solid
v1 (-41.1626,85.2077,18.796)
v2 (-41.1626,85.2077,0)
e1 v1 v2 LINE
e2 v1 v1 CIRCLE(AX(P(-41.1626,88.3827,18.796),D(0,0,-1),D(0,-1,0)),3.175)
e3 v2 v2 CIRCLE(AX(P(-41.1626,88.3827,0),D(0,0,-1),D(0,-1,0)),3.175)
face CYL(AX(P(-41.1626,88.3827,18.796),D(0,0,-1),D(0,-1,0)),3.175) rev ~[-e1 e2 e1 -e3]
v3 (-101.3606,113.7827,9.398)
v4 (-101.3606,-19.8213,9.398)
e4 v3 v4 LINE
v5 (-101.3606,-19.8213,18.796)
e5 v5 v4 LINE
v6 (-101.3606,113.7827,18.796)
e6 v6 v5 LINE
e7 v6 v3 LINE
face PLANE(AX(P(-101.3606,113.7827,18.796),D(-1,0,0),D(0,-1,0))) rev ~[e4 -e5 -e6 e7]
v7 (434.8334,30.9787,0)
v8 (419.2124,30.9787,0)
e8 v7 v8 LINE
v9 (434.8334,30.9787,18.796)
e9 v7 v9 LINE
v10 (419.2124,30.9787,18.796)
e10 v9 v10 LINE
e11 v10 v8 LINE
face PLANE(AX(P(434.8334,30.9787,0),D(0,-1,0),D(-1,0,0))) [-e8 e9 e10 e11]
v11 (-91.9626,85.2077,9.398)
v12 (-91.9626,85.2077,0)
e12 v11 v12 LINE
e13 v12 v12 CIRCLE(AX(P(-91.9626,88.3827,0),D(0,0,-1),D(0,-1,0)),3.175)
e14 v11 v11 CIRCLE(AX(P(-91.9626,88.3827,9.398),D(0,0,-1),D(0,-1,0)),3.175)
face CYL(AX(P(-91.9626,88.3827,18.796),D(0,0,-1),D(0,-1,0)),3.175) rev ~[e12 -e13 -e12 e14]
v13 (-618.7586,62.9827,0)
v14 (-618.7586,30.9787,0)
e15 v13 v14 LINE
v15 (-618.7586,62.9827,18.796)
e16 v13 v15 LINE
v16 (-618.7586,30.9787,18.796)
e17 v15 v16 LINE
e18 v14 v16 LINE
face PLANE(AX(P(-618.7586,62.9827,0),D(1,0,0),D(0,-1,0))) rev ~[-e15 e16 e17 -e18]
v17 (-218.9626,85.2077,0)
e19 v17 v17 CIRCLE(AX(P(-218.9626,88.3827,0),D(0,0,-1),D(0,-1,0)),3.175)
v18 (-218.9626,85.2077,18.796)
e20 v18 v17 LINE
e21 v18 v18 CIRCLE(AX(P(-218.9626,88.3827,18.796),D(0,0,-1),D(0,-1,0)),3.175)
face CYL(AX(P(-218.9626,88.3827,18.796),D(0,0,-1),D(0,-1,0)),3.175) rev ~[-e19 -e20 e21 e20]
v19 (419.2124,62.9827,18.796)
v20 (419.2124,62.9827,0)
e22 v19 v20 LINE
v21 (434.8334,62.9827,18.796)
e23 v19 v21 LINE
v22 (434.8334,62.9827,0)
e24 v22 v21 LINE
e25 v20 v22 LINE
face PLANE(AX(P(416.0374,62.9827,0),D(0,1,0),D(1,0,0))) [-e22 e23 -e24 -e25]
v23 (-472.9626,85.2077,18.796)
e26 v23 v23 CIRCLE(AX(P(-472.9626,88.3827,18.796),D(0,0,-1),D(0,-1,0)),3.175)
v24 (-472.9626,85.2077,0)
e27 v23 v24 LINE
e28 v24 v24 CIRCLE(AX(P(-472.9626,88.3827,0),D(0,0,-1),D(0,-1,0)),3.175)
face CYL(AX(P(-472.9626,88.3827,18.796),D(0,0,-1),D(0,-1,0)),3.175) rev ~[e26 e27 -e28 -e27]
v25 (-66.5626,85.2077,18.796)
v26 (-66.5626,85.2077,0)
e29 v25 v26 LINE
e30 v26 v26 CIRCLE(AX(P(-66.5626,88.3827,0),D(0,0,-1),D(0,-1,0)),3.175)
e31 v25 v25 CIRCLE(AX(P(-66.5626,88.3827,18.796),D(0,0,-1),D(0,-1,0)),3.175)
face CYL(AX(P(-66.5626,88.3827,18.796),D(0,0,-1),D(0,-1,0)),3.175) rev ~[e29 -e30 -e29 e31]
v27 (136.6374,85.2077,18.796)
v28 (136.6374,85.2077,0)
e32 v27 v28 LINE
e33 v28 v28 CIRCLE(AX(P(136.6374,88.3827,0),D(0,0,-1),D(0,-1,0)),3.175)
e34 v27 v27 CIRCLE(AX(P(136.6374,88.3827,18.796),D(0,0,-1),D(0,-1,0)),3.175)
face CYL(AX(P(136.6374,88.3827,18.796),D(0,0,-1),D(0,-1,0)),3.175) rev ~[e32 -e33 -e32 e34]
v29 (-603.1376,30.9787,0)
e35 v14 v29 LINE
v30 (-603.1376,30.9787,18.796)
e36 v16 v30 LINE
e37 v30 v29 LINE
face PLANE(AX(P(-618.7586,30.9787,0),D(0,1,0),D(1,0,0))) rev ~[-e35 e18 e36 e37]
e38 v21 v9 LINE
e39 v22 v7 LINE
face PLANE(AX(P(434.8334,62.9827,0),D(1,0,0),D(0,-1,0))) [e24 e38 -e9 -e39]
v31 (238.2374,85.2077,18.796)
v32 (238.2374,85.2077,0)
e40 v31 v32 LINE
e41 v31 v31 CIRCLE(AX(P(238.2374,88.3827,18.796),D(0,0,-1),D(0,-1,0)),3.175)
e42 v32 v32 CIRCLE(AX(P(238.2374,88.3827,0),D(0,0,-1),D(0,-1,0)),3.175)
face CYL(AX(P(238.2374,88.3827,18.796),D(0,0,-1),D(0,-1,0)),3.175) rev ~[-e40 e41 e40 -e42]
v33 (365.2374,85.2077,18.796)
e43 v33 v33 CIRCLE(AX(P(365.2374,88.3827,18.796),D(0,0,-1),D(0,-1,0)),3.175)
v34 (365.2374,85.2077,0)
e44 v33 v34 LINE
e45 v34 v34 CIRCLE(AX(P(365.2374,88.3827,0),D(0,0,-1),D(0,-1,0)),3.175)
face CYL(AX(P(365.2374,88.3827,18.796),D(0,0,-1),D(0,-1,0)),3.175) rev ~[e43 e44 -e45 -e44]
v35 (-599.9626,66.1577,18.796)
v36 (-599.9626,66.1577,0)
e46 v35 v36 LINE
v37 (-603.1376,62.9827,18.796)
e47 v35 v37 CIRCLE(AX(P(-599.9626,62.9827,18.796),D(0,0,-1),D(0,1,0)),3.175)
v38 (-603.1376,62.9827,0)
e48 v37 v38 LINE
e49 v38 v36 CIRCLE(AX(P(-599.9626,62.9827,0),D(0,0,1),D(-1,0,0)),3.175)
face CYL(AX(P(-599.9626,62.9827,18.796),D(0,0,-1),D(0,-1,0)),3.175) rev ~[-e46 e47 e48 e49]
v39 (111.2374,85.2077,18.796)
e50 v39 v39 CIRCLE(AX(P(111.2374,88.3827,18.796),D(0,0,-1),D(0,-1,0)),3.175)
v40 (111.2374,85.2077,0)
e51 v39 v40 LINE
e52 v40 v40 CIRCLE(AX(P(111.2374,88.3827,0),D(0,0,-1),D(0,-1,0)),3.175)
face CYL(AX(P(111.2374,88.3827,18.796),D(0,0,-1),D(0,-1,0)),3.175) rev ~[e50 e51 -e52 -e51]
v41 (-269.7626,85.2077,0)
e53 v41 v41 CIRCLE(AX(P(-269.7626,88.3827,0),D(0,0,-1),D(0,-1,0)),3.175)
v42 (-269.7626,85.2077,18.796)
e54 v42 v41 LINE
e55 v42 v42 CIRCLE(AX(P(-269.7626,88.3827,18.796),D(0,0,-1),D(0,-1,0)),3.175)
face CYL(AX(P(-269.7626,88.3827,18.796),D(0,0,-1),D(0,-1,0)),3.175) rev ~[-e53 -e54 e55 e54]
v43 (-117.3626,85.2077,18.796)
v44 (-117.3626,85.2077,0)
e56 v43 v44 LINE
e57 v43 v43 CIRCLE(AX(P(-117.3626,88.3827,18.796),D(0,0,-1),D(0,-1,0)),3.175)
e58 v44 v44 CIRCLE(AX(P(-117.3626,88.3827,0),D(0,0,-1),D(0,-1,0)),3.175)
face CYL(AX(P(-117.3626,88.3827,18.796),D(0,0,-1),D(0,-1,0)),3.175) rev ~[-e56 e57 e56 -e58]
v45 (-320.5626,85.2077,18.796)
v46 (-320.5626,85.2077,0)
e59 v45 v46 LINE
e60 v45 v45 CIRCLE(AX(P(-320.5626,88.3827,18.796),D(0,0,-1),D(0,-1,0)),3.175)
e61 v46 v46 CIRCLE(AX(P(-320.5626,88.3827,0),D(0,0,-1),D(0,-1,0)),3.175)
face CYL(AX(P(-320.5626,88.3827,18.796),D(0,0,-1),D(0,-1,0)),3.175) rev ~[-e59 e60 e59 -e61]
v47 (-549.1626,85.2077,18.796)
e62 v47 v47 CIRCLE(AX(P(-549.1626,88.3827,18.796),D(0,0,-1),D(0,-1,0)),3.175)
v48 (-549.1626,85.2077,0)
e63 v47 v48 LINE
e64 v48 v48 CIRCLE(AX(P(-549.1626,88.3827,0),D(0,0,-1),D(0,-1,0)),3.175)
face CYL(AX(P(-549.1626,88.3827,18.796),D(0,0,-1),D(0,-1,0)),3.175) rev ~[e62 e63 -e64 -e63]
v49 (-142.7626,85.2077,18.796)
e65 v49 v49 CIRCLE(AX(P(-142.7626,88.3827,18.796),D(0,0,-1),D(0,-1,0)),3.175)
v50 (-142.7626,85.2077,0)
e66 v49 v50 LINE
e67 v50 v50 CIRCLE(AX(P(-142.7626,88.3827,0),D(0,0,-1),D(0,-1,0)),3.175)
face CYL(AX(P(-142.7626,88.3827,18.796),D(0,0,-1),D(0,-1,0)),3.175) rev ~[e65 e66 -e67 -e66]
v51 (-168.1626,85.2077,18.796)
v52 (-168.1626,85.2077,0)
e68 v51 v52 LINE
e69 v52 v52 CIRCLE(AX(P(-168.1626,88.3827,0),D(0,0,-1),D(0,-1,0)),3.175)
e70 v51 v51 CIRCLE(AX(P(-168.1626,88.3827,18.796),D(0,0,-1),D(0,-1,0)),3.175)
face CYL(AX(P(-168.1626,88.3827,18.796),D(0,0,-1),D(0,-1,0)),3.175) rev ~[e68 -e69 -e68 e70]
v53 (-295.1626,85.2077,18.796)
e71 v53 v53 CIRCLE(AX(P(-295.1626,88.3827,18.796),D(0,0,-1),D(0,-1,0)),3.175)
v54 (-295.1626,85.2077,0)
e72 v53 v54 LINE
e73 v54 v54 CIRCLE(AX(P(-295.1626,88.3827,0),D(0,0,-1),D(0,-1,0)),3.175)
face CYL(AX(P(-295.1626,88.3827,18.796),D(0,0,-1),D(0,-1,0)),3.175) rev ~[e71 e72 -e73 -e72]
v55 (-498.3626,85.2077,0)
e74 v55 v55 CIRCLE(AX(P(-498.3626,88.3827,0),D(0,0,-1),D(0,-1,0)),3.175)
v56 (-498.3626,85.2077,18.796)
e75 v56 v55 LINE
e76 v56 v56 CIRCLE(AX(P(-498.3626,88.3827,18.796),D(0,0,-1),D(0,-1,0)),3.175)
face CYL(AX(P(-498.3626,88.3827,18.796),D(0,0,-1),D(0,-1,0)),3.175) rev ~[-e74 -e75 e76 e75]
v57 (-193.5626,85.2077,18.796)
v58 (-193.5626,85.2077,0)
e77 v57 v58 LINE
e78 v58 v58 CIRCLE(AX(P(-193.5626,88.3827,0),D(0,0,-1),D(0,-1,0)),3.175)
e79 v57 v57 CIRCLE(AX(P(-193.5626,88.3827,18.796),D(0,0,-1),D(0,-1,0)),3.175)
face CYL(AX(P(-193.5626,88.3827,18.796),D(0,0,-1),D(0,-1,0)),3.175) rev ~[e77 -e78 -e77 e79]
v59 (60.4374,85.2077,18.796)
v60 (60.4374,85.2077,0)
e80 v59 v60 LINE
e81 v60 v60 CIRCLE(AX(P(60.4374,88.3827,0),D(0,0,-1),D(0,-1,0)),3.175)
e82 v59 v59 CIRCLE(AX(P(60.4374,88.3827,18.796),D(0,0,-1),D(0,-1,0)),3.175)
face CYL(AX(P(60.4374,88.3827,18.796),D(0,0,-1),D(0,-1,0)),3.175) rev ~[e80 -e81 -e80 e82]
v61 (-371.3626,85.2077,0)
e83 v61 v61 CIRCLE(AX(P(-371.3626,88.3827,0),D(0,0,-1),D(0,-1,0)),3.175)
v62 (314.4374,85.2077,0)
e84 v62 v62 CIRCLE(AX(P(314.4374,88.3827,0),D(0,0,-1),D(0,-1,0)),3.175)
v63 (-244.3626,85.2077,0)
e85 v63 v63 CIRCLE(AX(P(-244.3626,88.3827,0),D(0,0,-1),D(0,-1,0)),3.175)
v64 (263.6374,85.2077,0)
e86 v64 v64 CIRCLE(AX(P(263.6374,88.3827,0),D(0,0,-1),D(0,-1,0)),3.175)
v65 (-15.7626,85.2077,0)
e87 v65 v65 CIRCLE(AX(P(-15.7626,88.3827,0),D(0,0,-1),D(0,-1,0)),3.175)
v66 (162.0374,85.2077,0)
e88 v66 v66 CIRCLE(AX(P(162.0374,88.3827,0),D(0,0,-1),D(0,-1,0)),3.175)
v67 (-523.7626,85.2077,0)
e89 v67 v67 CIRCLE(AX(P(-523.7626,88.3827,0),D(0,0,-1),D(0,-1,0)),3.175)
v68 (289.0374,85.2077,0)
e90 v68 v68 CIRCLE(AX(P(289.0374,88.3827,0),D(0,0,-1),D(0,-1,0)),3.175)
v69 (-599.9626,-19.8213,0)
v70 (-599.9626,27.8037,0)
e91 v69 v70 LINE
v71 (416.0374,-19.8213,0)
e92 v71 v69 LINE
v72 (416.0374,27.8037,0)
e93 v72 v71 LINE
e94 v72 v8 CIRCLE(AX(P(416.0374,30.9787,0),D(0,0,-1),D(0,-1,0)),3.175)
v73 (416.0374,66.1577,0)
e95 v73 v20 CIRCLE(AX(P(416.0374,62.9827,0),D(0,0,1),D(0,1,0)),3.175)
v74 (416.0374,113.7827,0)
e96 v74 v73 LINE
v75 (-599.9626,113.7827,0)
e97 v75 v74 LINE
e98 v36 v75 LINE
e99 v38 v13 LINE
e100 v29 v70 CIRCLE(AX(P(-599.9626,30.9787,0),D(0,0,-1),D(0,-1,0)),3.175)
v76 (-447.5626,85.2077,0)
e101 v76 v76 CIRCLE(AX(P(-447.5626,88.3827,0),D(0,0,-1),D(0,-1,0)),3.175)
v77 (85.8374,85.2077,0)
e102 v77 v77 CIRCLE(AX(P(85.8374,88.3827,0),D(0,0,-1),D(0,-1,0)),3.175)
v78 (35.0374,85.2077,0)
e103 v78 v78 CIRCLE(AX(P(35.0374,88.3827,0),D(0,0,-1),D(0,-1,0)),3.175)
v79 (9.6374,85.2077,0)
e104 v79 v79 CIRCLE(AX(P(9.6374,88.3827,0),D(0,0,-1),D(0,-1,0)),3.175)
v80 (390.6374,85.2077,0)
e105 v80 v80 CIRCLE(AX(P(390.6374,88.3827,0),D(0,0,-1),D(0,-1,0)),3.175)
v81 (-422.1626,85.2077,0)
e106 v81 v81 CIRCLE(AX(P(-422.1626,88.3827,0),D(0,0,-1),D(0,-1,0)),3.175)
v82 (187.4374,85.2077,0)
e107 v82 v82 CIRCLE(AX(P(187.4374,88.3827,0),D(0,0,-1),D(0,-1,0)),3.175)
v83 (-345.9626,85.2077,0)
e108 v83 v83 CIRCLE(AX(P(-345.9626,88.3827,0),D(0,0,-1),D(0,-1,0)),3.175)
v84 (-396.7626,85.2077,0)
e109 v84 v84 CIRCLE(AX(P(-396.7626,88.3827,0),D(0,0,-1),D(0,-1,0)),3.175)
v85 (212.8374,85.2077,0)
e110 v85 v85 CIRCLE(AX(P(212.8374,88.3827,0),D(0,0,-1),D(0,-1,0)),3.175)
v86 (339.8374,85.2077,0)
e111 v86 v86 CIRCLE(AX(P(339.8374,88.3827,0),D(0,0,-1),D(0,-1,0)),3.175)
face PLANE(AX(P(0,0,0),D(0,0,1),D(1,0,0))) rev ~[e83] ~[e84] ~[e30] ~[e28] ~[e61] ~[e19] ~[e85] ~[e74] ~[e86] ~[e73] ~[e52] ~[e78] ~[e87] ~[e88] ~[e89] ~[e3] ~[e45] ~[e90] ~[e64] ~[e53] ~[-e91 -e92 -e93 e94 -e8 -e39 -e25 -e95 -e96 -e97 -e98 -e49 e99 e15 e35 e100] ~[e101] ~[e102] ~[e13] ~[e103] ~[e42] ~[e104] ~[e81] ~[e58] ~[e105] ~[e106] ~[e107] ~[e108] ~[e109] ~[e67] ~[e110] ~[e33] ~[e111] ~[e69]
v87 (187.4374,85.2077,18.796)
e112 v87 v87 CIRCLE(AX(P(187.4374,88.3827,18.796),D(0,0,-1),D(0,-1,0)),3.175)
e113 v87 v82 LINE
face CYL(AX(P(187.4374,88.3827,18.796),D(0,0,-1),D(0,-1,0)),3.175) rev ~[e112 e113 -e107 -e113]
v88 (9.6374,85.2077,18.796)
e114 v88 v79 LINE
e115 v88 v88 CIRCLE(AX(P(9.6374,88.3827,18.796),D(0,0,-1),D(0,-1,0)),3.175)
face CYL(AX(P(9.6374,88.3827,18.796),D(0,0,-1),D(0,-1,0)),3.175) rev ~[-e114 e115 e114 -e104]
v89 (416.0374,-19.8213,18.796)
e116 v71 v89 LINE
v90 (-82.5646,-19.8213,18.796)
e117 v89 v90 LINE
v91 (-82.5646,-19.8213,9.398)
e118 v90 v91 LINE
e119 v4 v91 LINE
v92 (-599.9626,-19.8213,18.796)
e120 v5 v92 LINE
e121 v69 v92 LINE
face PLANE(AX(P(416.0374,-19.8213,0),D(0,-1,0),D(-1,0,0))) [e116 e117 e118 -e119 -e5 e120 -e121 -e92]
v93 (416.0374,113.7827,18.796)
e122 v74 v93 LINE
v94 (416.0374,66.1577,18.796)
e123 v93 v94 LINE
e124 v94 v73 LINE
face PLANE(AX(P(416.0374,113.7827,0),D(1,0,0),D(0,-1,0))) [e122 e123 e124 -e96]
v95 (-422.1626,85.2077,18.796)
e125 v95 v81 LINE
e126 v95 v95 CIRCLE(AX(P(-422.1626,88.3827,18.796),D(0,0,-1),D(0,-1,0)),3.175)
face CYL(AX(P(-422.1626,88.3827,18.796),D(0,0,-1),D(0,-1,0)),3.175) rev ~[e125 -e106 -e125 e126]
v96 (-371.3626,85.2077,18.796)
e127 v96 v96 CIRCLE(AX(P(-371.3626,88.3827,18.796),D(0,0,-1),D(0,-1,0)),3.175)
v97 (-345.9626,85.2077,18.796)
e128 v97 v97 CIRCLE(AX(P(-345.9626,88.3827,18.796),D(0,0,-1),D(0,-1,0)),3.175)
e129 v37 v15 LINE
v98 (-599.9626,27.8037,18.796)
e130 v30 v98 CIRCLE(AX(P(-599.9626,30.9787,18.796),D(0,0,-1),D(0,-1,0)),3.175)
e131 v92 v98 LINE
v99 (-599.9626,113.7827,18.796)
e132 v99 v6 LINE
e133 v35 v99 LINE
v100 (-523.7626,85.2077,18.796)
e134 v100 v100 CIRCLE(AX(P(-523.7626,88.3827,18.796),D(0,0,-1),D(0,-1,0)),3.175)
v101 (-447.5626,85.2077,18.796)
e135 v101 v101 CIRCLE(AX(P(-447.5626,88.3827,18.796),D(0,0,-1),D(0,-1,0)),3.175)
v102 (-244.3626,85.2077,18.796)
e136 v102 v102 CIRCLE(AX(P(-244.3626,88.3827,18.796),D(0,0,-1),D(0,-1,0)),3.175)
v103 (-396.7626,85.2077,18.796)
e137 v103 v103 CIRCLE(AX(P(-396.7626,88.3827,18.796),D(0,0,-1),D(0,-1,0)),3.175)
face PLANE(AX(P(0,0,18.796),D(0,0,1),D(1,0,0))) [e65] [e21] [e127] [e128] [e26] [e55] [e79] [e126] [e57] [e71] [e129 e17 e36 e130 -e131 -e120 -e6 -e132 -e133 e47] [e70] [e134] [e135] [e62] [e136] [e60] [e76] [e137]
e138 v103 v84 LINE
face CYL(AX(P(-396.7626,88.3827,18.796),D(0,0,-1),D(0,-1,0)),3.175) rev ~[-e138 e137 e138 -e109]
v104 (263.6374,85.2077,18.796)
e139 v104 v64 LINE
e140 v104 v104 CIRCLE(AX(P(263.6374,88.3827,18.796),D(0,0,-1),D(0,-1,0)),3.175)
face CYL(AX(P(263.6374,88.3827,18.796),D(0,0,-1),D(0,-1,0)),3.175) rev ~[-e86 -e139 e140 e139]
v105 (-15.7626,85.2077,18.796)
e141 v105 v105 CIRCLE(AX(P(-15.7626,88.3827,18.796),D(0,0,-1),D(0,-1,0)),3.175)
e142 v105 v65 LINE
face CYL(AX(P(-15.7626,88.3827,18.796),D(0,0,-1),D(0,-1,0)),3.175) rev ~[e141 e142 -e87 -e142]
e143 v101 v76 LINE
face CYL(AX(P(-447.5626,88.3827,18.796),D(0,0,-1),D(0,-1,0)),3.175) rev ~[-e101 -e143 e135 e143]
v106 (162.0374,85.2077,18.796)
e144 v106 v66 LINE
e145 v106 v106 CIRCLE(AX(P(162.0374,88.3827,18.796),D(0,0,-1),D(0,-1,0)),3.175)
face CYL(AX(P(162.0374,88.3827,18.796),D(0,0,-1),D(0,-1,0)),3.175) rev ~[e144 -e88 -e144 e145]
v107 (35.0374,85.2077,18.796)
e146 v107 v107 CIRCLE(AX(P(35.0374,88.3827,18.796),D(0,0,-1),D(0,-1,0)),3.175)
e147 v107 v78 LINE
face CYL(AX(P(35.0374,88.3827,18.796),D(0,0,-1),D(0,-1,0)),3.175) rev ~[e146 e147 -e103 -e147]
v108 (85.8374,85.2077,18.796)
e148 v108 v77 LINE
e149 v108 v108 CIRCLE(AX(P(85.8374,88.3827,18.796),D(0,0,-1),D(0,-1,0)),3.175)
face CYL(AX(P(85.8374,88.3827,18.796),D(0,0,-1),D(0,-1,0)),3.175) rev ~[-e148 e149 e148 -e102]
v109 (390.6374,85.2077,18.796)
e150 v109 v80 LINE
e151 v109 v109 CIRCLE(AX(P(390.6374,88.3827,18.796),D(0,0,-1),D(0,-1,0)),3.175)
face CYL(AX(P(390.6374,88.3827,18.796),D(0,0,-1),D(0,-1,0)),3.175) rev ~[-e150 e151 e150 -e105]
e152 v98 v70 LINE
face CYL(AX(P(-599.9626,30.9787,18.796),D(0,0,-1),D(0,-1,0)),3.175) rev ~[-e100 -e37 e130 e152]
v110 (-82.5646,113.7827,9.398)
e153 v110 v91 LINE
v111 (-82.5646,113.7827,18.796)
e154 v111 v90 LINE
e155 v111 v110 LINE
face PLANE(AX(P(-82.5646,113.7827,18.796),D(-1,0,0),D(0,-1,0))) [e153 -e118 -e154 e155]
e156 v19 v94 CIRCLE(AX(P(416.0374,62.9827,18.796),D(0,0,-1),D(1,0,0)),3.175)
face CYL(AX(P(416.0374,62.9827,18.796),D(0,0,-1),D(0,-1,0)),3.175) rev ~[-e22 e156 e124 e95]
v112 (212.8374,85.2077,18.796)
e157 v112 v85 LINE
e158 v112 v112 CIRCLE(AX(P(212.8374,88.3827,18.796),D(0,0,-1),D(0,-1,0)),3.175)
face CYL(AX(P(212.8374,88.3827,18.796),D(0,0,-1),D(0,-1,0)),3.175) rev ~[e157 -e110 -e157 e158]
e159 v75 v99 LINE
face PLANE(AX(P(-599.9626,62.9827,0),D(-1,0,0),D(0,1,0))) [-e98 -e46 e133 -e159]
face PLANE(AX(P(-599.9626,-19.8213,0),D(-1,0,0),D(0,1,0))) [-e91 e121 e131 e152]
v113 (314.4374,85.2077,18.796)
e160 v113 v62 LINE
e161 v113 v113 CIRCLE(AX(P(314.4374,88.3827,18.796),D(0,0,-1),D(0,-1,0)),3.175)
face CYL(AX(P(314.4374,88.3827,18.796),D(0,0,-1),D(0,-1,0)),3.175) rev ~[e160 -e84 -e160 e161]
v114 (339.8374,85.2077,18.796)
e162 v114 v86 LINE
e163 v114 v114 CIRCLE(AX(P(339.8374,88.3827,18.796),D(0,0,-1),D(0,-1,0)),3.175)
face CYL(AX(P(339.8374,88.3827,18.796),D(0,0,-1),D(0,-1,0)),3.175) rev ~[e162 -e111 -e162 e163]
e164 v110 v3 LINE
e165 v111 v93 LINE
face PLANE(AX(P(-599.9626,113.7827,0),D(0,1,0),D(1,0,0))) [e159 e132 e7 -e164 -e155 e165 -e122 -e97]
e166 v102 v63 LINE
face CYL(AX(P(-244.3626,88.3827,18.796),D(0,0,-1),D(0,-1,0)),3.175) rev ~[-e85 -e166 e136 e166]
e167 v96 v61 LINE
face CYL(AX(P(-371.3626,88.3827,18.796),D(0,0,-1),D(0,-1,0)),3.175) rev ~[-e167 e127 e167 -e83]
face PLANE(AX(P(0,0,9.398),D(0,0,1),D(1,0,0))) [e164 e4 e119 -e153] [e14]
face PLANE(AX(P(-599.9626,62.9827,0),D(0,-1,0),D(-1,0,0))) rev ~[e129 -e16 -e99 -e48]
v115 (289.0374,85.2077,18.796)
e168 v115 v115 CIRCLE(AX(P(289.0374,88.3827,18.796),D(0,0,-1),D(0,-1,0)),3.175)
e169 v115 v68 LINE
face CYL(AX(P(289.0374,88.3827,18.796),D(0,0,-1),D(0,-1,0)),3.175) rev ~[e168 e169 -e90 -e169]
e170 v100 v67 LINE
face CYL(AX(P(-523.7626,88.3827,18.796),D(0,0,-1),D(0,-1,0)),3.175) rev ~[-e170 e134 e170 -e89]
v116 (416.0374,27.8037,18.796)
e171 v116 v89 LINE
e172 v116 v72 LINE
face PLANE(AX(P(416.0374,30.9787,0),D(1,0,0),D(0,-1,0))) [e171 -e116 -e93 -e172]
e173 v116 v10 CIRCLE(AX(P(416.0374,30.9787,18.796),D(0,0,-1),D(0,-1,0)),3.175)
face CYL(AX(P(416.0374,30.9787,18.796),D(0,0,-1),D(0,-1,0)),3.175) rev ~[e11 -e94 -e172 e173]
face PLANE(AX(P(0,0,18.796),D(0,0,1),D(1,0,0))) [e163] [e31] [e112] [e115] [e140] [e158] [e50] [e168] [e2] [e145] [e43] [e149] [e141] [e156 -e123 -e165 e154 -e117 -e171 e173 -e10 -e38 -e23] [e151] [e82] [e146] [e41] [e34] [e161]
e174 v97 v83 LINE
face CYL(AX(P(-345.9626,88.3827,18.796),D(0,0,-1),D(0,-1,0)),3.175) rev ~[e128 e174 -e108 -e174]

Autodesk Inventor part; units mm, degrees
ref_plane "YZ Plane" through (0, 0, 0) normal (1, 0, 0) x (0, 1, 0)
ref_plane "XZ Plane" through (0, 0, 0) normal (0, 1, 0) x (-1, 0, 0)
ref_plane "XY Plane" through (0, 0, 0) normal (0, 0, 1) x (1, 0, 0)
sketch "Sketch1" plane through (0, 0, 0) normal (0, 0, 1) x (1, 0, 0)
  line L0 (-599.9626, 113.7827) -> (416.0374, 113.7827)
  line L1 (416.0374, -19.8213) -> (-599.9626, -19.8213)
  line L2 (-599.9626, 62.9827) -> (-618.7586, 62.9827)
  line L3 (-618.7586, 62.9827) -> (-618.7586, 30.9787)
  line L4 (-618.7586, 30.9787) -> (-599.9626, 30.9787)
  line L5 (416.0374, 62.9827) -> (434.8334, 62.9827)
  line L6 (434.8334, 62.9827) -> (434.8334, 30.9787)
  line L7 (434.8334, 30.9787) -> (416.0374, 30.9787)
  line L8 (-599.9626, -19.8213) -> (-599.9626, 30.9787)
  line L9 (-599.9626, 62.9827) -> (-599.9626, 113.7827)
  line L10 (416.0374, 113.7827) -> (416.0374, 62.9827)
  line L11 (416.0374, 30.9787) -> (416.0374, -19.8213)
  point P0 (0, 0)
  dimension "d0" = 133.604
  dimension "d1" = 1016
  dimension "d2" = 18.796
  dimension "d3" = 18.796
  dimension "d4" = 18.796
  dimension "d5" = 18.796
  dimension "d6" = 50.8
  dimension "d7" = 50.8
  dimension "d8" = 50.8
  dimension "d9" = 50.8
extrude "Extrusion1" add sketch "Sketch1" along normal blind 18.796
sketch "Sketch2" plane through (0, 0, 18.796) normal (0, 0, 1) x (1, 0, 0)
  line L0 (416.0374, 113.7827) -> (-599.9626, 113.7827) projected
  line L1 (-91.9626, 113.7827) -> (-91.9626, -19.8213)
  line L2 (416.0374, -19.8213) -> (-599.9626, -19.8213) projected
  line L3 (-101.3606, 113.7827) -> (-101.3606, -19.8213)
  line L4 (-82.5646, 113.7827) -> (-82.5646, -19.8213)
  line L5 (-101.3606, 113.7827) -> (-82.5646, 113.7827)
  line L6 (-101.3606, -19.8213) -> (-82.5646, -19.8213)
  point P0 (0, 0)
  dimension "d12" = 9.398
  dimension "d13" = 9.398
extrude "Extrusion2" cut sketch "Sketch2" against normal blind 9.398
sketch "Sketch3" plane through (0, 0, 18.796) normal (0, 0, 1) x (1, 0, 0)
  line L0 (-599.9626, 113.7827) -> (-599.9626, 62.9827) projected
  line L1 (-599.9626, 113.7827) -> (416.0374, 113.7827) projected
  point P0 (0, 0)
  point P1 (-549.1626, 88.3827)
  point P2 (-523.7626, 88.3827)
  point P3 (-498.3626, 88.3827)
  point P4 (-472.9626, 88.3827)
  point P5 (-447.5626, 88.3827)
  point P6 (-422.1626, 88.3827)
  point P7 (-396.7626, 88.3827)
  point P8 (-371.3626, 88.3827)
  point P9 (-345.9626, 88.3827)
  point P10 (-320.5626, 88.3827)
  point P11 (-295.1626, 88.3827)
  point P12 (-269.7626, 88.3827)
  point P13 (-244.3626, 88.3827)
  point P14 (-218.9626, 88.3827)
  point P15 (-193.5626, 88.3827)
  point P16 (-168.1626, 88.3827)
  point P17 (-142.7626, 88.3827)
  point P18 (-117.3626, 88.3827)
  point P19 (-91.9626, 88.3827)
  point P20 (-66.5626, 88.3827)
  point P21 (-41.1626, 88.3827)
  point P22 (-15.7626, 88.3827)
  point P23 (9.6374, 88.3827)
  point P24 (35.0374, 88.3827)
  point P25 (60.4374, 88.3827)
  point P26 (85.8374, 88.3827)
  point P27 (111.2374, 88.3827)
  point P28 (136.6374, 88.3827)
  point P29 (162.0374, 88.3827)
  point P30 (187.4374, 88.3827)
  point P31 (212.8374, 88.3827)
  point P32 (238.2374, 88.3827)
  point P33 (263.6374, 88.3827)
  point P34 (289.0374, 88.3827)
  point P35 (314.4374, 88.3827)
  point P36 (339.8374, 88.3827)
  point P37 (365.2374, 88.3827)
  point P38 (390.6374, 88.3827)
  dimension "d16" = 50.8
  dimension "d17" = 25.4
  dimension "d20" = 25.4
hole "Hole1" at (-549.1626, 88.3827, 18.796) at (-523.7626, 88.3827, 18.796) at (-498.3626, 88.3827, 18.796) at (-472.9626, 88.3827, 18.796) at (-447.5626, 88.3827, 18.796) at (-422.1626, 88.3827, 18.796) at (-396.7626, 88.3827, 18.796) at (-371.3626, 88.3827, 18.796) at (-345.9626, 88.3827, 18.796) at (-320.5626, 88.3827, 18.796) at (-295.1626, 88.3827, 18.796) at (-269.7626, 88.3827, 18.796) at (-244.3626, 88.3827, 18.796) at (-218.9626, 88.3827, 18.796) at (-193.5626, 88.3827, 18.796) at (-168.1626, 88.3827, 18.796) at (-142.7626, 88.3827, 18.796) at (-117.3626, 88.3827, 18.796) at (-91.9626, 88.3827, 18.796) at (-66.5626, 88.3827, 18.796) at (-41.1626, 88.3827, 18.796) at (-15.7626, 88.3827, 18.796) at (9.6374, 88.3827, 18.796) at (35.0374, 88.3827, 18.796) at (60.4374, 88.3827, 18.796) at (85.8374, 88.3827, 18.796) at (111.2374, 88.3827, 18.796) at (136.6374, 88.3827, 18.796) at (162.0374, 88.3827, 18.796) at (187.4374, 88.3827, 18.796) at (212.8374, 88.3827, 18.796) at (238.2374, 88.3827, 18.796) at (263.6374, 88.3827, 18.796) at (289.0374, 88.3827, 18.796) at (314.4374, 88.3827, 18.796) at (339.8374, 88.3827, 18.796) at (365.2374, 88.3827, 18.796) at (390.6374, 88.3827, 18.796) direction (0, 0, -1) diameter 6.35 end through all
sketch "Sketch4" plane through (0, 0, 18.796) normal (0, 0, 1) x (1, 0, 0)
  line L0 (-618.7586, 62.9827) -> (-599.9626, 62.9827) projected
  line L1 (-618.7586, 30.9787) -> (-599.9626, 30.9787) projected
  line L2 (416.0374, 62.9827) -> (434.8334, 62.9827) projected
  point P0 (0, 0)
  point P1 (416.0374, 30.9787)
hole "Hole2" at (-599.9626, 62.9827, 18.796) at (-599.9626, 30.9787, 18.796) at (416.0374, 62.9827, 18.796) at (416.0374, 30.9787, 18.796) direction (0, 0, -1) diameter 6.35 end through all
properties part number "shelf back 2" material "Wood (Birch)"
